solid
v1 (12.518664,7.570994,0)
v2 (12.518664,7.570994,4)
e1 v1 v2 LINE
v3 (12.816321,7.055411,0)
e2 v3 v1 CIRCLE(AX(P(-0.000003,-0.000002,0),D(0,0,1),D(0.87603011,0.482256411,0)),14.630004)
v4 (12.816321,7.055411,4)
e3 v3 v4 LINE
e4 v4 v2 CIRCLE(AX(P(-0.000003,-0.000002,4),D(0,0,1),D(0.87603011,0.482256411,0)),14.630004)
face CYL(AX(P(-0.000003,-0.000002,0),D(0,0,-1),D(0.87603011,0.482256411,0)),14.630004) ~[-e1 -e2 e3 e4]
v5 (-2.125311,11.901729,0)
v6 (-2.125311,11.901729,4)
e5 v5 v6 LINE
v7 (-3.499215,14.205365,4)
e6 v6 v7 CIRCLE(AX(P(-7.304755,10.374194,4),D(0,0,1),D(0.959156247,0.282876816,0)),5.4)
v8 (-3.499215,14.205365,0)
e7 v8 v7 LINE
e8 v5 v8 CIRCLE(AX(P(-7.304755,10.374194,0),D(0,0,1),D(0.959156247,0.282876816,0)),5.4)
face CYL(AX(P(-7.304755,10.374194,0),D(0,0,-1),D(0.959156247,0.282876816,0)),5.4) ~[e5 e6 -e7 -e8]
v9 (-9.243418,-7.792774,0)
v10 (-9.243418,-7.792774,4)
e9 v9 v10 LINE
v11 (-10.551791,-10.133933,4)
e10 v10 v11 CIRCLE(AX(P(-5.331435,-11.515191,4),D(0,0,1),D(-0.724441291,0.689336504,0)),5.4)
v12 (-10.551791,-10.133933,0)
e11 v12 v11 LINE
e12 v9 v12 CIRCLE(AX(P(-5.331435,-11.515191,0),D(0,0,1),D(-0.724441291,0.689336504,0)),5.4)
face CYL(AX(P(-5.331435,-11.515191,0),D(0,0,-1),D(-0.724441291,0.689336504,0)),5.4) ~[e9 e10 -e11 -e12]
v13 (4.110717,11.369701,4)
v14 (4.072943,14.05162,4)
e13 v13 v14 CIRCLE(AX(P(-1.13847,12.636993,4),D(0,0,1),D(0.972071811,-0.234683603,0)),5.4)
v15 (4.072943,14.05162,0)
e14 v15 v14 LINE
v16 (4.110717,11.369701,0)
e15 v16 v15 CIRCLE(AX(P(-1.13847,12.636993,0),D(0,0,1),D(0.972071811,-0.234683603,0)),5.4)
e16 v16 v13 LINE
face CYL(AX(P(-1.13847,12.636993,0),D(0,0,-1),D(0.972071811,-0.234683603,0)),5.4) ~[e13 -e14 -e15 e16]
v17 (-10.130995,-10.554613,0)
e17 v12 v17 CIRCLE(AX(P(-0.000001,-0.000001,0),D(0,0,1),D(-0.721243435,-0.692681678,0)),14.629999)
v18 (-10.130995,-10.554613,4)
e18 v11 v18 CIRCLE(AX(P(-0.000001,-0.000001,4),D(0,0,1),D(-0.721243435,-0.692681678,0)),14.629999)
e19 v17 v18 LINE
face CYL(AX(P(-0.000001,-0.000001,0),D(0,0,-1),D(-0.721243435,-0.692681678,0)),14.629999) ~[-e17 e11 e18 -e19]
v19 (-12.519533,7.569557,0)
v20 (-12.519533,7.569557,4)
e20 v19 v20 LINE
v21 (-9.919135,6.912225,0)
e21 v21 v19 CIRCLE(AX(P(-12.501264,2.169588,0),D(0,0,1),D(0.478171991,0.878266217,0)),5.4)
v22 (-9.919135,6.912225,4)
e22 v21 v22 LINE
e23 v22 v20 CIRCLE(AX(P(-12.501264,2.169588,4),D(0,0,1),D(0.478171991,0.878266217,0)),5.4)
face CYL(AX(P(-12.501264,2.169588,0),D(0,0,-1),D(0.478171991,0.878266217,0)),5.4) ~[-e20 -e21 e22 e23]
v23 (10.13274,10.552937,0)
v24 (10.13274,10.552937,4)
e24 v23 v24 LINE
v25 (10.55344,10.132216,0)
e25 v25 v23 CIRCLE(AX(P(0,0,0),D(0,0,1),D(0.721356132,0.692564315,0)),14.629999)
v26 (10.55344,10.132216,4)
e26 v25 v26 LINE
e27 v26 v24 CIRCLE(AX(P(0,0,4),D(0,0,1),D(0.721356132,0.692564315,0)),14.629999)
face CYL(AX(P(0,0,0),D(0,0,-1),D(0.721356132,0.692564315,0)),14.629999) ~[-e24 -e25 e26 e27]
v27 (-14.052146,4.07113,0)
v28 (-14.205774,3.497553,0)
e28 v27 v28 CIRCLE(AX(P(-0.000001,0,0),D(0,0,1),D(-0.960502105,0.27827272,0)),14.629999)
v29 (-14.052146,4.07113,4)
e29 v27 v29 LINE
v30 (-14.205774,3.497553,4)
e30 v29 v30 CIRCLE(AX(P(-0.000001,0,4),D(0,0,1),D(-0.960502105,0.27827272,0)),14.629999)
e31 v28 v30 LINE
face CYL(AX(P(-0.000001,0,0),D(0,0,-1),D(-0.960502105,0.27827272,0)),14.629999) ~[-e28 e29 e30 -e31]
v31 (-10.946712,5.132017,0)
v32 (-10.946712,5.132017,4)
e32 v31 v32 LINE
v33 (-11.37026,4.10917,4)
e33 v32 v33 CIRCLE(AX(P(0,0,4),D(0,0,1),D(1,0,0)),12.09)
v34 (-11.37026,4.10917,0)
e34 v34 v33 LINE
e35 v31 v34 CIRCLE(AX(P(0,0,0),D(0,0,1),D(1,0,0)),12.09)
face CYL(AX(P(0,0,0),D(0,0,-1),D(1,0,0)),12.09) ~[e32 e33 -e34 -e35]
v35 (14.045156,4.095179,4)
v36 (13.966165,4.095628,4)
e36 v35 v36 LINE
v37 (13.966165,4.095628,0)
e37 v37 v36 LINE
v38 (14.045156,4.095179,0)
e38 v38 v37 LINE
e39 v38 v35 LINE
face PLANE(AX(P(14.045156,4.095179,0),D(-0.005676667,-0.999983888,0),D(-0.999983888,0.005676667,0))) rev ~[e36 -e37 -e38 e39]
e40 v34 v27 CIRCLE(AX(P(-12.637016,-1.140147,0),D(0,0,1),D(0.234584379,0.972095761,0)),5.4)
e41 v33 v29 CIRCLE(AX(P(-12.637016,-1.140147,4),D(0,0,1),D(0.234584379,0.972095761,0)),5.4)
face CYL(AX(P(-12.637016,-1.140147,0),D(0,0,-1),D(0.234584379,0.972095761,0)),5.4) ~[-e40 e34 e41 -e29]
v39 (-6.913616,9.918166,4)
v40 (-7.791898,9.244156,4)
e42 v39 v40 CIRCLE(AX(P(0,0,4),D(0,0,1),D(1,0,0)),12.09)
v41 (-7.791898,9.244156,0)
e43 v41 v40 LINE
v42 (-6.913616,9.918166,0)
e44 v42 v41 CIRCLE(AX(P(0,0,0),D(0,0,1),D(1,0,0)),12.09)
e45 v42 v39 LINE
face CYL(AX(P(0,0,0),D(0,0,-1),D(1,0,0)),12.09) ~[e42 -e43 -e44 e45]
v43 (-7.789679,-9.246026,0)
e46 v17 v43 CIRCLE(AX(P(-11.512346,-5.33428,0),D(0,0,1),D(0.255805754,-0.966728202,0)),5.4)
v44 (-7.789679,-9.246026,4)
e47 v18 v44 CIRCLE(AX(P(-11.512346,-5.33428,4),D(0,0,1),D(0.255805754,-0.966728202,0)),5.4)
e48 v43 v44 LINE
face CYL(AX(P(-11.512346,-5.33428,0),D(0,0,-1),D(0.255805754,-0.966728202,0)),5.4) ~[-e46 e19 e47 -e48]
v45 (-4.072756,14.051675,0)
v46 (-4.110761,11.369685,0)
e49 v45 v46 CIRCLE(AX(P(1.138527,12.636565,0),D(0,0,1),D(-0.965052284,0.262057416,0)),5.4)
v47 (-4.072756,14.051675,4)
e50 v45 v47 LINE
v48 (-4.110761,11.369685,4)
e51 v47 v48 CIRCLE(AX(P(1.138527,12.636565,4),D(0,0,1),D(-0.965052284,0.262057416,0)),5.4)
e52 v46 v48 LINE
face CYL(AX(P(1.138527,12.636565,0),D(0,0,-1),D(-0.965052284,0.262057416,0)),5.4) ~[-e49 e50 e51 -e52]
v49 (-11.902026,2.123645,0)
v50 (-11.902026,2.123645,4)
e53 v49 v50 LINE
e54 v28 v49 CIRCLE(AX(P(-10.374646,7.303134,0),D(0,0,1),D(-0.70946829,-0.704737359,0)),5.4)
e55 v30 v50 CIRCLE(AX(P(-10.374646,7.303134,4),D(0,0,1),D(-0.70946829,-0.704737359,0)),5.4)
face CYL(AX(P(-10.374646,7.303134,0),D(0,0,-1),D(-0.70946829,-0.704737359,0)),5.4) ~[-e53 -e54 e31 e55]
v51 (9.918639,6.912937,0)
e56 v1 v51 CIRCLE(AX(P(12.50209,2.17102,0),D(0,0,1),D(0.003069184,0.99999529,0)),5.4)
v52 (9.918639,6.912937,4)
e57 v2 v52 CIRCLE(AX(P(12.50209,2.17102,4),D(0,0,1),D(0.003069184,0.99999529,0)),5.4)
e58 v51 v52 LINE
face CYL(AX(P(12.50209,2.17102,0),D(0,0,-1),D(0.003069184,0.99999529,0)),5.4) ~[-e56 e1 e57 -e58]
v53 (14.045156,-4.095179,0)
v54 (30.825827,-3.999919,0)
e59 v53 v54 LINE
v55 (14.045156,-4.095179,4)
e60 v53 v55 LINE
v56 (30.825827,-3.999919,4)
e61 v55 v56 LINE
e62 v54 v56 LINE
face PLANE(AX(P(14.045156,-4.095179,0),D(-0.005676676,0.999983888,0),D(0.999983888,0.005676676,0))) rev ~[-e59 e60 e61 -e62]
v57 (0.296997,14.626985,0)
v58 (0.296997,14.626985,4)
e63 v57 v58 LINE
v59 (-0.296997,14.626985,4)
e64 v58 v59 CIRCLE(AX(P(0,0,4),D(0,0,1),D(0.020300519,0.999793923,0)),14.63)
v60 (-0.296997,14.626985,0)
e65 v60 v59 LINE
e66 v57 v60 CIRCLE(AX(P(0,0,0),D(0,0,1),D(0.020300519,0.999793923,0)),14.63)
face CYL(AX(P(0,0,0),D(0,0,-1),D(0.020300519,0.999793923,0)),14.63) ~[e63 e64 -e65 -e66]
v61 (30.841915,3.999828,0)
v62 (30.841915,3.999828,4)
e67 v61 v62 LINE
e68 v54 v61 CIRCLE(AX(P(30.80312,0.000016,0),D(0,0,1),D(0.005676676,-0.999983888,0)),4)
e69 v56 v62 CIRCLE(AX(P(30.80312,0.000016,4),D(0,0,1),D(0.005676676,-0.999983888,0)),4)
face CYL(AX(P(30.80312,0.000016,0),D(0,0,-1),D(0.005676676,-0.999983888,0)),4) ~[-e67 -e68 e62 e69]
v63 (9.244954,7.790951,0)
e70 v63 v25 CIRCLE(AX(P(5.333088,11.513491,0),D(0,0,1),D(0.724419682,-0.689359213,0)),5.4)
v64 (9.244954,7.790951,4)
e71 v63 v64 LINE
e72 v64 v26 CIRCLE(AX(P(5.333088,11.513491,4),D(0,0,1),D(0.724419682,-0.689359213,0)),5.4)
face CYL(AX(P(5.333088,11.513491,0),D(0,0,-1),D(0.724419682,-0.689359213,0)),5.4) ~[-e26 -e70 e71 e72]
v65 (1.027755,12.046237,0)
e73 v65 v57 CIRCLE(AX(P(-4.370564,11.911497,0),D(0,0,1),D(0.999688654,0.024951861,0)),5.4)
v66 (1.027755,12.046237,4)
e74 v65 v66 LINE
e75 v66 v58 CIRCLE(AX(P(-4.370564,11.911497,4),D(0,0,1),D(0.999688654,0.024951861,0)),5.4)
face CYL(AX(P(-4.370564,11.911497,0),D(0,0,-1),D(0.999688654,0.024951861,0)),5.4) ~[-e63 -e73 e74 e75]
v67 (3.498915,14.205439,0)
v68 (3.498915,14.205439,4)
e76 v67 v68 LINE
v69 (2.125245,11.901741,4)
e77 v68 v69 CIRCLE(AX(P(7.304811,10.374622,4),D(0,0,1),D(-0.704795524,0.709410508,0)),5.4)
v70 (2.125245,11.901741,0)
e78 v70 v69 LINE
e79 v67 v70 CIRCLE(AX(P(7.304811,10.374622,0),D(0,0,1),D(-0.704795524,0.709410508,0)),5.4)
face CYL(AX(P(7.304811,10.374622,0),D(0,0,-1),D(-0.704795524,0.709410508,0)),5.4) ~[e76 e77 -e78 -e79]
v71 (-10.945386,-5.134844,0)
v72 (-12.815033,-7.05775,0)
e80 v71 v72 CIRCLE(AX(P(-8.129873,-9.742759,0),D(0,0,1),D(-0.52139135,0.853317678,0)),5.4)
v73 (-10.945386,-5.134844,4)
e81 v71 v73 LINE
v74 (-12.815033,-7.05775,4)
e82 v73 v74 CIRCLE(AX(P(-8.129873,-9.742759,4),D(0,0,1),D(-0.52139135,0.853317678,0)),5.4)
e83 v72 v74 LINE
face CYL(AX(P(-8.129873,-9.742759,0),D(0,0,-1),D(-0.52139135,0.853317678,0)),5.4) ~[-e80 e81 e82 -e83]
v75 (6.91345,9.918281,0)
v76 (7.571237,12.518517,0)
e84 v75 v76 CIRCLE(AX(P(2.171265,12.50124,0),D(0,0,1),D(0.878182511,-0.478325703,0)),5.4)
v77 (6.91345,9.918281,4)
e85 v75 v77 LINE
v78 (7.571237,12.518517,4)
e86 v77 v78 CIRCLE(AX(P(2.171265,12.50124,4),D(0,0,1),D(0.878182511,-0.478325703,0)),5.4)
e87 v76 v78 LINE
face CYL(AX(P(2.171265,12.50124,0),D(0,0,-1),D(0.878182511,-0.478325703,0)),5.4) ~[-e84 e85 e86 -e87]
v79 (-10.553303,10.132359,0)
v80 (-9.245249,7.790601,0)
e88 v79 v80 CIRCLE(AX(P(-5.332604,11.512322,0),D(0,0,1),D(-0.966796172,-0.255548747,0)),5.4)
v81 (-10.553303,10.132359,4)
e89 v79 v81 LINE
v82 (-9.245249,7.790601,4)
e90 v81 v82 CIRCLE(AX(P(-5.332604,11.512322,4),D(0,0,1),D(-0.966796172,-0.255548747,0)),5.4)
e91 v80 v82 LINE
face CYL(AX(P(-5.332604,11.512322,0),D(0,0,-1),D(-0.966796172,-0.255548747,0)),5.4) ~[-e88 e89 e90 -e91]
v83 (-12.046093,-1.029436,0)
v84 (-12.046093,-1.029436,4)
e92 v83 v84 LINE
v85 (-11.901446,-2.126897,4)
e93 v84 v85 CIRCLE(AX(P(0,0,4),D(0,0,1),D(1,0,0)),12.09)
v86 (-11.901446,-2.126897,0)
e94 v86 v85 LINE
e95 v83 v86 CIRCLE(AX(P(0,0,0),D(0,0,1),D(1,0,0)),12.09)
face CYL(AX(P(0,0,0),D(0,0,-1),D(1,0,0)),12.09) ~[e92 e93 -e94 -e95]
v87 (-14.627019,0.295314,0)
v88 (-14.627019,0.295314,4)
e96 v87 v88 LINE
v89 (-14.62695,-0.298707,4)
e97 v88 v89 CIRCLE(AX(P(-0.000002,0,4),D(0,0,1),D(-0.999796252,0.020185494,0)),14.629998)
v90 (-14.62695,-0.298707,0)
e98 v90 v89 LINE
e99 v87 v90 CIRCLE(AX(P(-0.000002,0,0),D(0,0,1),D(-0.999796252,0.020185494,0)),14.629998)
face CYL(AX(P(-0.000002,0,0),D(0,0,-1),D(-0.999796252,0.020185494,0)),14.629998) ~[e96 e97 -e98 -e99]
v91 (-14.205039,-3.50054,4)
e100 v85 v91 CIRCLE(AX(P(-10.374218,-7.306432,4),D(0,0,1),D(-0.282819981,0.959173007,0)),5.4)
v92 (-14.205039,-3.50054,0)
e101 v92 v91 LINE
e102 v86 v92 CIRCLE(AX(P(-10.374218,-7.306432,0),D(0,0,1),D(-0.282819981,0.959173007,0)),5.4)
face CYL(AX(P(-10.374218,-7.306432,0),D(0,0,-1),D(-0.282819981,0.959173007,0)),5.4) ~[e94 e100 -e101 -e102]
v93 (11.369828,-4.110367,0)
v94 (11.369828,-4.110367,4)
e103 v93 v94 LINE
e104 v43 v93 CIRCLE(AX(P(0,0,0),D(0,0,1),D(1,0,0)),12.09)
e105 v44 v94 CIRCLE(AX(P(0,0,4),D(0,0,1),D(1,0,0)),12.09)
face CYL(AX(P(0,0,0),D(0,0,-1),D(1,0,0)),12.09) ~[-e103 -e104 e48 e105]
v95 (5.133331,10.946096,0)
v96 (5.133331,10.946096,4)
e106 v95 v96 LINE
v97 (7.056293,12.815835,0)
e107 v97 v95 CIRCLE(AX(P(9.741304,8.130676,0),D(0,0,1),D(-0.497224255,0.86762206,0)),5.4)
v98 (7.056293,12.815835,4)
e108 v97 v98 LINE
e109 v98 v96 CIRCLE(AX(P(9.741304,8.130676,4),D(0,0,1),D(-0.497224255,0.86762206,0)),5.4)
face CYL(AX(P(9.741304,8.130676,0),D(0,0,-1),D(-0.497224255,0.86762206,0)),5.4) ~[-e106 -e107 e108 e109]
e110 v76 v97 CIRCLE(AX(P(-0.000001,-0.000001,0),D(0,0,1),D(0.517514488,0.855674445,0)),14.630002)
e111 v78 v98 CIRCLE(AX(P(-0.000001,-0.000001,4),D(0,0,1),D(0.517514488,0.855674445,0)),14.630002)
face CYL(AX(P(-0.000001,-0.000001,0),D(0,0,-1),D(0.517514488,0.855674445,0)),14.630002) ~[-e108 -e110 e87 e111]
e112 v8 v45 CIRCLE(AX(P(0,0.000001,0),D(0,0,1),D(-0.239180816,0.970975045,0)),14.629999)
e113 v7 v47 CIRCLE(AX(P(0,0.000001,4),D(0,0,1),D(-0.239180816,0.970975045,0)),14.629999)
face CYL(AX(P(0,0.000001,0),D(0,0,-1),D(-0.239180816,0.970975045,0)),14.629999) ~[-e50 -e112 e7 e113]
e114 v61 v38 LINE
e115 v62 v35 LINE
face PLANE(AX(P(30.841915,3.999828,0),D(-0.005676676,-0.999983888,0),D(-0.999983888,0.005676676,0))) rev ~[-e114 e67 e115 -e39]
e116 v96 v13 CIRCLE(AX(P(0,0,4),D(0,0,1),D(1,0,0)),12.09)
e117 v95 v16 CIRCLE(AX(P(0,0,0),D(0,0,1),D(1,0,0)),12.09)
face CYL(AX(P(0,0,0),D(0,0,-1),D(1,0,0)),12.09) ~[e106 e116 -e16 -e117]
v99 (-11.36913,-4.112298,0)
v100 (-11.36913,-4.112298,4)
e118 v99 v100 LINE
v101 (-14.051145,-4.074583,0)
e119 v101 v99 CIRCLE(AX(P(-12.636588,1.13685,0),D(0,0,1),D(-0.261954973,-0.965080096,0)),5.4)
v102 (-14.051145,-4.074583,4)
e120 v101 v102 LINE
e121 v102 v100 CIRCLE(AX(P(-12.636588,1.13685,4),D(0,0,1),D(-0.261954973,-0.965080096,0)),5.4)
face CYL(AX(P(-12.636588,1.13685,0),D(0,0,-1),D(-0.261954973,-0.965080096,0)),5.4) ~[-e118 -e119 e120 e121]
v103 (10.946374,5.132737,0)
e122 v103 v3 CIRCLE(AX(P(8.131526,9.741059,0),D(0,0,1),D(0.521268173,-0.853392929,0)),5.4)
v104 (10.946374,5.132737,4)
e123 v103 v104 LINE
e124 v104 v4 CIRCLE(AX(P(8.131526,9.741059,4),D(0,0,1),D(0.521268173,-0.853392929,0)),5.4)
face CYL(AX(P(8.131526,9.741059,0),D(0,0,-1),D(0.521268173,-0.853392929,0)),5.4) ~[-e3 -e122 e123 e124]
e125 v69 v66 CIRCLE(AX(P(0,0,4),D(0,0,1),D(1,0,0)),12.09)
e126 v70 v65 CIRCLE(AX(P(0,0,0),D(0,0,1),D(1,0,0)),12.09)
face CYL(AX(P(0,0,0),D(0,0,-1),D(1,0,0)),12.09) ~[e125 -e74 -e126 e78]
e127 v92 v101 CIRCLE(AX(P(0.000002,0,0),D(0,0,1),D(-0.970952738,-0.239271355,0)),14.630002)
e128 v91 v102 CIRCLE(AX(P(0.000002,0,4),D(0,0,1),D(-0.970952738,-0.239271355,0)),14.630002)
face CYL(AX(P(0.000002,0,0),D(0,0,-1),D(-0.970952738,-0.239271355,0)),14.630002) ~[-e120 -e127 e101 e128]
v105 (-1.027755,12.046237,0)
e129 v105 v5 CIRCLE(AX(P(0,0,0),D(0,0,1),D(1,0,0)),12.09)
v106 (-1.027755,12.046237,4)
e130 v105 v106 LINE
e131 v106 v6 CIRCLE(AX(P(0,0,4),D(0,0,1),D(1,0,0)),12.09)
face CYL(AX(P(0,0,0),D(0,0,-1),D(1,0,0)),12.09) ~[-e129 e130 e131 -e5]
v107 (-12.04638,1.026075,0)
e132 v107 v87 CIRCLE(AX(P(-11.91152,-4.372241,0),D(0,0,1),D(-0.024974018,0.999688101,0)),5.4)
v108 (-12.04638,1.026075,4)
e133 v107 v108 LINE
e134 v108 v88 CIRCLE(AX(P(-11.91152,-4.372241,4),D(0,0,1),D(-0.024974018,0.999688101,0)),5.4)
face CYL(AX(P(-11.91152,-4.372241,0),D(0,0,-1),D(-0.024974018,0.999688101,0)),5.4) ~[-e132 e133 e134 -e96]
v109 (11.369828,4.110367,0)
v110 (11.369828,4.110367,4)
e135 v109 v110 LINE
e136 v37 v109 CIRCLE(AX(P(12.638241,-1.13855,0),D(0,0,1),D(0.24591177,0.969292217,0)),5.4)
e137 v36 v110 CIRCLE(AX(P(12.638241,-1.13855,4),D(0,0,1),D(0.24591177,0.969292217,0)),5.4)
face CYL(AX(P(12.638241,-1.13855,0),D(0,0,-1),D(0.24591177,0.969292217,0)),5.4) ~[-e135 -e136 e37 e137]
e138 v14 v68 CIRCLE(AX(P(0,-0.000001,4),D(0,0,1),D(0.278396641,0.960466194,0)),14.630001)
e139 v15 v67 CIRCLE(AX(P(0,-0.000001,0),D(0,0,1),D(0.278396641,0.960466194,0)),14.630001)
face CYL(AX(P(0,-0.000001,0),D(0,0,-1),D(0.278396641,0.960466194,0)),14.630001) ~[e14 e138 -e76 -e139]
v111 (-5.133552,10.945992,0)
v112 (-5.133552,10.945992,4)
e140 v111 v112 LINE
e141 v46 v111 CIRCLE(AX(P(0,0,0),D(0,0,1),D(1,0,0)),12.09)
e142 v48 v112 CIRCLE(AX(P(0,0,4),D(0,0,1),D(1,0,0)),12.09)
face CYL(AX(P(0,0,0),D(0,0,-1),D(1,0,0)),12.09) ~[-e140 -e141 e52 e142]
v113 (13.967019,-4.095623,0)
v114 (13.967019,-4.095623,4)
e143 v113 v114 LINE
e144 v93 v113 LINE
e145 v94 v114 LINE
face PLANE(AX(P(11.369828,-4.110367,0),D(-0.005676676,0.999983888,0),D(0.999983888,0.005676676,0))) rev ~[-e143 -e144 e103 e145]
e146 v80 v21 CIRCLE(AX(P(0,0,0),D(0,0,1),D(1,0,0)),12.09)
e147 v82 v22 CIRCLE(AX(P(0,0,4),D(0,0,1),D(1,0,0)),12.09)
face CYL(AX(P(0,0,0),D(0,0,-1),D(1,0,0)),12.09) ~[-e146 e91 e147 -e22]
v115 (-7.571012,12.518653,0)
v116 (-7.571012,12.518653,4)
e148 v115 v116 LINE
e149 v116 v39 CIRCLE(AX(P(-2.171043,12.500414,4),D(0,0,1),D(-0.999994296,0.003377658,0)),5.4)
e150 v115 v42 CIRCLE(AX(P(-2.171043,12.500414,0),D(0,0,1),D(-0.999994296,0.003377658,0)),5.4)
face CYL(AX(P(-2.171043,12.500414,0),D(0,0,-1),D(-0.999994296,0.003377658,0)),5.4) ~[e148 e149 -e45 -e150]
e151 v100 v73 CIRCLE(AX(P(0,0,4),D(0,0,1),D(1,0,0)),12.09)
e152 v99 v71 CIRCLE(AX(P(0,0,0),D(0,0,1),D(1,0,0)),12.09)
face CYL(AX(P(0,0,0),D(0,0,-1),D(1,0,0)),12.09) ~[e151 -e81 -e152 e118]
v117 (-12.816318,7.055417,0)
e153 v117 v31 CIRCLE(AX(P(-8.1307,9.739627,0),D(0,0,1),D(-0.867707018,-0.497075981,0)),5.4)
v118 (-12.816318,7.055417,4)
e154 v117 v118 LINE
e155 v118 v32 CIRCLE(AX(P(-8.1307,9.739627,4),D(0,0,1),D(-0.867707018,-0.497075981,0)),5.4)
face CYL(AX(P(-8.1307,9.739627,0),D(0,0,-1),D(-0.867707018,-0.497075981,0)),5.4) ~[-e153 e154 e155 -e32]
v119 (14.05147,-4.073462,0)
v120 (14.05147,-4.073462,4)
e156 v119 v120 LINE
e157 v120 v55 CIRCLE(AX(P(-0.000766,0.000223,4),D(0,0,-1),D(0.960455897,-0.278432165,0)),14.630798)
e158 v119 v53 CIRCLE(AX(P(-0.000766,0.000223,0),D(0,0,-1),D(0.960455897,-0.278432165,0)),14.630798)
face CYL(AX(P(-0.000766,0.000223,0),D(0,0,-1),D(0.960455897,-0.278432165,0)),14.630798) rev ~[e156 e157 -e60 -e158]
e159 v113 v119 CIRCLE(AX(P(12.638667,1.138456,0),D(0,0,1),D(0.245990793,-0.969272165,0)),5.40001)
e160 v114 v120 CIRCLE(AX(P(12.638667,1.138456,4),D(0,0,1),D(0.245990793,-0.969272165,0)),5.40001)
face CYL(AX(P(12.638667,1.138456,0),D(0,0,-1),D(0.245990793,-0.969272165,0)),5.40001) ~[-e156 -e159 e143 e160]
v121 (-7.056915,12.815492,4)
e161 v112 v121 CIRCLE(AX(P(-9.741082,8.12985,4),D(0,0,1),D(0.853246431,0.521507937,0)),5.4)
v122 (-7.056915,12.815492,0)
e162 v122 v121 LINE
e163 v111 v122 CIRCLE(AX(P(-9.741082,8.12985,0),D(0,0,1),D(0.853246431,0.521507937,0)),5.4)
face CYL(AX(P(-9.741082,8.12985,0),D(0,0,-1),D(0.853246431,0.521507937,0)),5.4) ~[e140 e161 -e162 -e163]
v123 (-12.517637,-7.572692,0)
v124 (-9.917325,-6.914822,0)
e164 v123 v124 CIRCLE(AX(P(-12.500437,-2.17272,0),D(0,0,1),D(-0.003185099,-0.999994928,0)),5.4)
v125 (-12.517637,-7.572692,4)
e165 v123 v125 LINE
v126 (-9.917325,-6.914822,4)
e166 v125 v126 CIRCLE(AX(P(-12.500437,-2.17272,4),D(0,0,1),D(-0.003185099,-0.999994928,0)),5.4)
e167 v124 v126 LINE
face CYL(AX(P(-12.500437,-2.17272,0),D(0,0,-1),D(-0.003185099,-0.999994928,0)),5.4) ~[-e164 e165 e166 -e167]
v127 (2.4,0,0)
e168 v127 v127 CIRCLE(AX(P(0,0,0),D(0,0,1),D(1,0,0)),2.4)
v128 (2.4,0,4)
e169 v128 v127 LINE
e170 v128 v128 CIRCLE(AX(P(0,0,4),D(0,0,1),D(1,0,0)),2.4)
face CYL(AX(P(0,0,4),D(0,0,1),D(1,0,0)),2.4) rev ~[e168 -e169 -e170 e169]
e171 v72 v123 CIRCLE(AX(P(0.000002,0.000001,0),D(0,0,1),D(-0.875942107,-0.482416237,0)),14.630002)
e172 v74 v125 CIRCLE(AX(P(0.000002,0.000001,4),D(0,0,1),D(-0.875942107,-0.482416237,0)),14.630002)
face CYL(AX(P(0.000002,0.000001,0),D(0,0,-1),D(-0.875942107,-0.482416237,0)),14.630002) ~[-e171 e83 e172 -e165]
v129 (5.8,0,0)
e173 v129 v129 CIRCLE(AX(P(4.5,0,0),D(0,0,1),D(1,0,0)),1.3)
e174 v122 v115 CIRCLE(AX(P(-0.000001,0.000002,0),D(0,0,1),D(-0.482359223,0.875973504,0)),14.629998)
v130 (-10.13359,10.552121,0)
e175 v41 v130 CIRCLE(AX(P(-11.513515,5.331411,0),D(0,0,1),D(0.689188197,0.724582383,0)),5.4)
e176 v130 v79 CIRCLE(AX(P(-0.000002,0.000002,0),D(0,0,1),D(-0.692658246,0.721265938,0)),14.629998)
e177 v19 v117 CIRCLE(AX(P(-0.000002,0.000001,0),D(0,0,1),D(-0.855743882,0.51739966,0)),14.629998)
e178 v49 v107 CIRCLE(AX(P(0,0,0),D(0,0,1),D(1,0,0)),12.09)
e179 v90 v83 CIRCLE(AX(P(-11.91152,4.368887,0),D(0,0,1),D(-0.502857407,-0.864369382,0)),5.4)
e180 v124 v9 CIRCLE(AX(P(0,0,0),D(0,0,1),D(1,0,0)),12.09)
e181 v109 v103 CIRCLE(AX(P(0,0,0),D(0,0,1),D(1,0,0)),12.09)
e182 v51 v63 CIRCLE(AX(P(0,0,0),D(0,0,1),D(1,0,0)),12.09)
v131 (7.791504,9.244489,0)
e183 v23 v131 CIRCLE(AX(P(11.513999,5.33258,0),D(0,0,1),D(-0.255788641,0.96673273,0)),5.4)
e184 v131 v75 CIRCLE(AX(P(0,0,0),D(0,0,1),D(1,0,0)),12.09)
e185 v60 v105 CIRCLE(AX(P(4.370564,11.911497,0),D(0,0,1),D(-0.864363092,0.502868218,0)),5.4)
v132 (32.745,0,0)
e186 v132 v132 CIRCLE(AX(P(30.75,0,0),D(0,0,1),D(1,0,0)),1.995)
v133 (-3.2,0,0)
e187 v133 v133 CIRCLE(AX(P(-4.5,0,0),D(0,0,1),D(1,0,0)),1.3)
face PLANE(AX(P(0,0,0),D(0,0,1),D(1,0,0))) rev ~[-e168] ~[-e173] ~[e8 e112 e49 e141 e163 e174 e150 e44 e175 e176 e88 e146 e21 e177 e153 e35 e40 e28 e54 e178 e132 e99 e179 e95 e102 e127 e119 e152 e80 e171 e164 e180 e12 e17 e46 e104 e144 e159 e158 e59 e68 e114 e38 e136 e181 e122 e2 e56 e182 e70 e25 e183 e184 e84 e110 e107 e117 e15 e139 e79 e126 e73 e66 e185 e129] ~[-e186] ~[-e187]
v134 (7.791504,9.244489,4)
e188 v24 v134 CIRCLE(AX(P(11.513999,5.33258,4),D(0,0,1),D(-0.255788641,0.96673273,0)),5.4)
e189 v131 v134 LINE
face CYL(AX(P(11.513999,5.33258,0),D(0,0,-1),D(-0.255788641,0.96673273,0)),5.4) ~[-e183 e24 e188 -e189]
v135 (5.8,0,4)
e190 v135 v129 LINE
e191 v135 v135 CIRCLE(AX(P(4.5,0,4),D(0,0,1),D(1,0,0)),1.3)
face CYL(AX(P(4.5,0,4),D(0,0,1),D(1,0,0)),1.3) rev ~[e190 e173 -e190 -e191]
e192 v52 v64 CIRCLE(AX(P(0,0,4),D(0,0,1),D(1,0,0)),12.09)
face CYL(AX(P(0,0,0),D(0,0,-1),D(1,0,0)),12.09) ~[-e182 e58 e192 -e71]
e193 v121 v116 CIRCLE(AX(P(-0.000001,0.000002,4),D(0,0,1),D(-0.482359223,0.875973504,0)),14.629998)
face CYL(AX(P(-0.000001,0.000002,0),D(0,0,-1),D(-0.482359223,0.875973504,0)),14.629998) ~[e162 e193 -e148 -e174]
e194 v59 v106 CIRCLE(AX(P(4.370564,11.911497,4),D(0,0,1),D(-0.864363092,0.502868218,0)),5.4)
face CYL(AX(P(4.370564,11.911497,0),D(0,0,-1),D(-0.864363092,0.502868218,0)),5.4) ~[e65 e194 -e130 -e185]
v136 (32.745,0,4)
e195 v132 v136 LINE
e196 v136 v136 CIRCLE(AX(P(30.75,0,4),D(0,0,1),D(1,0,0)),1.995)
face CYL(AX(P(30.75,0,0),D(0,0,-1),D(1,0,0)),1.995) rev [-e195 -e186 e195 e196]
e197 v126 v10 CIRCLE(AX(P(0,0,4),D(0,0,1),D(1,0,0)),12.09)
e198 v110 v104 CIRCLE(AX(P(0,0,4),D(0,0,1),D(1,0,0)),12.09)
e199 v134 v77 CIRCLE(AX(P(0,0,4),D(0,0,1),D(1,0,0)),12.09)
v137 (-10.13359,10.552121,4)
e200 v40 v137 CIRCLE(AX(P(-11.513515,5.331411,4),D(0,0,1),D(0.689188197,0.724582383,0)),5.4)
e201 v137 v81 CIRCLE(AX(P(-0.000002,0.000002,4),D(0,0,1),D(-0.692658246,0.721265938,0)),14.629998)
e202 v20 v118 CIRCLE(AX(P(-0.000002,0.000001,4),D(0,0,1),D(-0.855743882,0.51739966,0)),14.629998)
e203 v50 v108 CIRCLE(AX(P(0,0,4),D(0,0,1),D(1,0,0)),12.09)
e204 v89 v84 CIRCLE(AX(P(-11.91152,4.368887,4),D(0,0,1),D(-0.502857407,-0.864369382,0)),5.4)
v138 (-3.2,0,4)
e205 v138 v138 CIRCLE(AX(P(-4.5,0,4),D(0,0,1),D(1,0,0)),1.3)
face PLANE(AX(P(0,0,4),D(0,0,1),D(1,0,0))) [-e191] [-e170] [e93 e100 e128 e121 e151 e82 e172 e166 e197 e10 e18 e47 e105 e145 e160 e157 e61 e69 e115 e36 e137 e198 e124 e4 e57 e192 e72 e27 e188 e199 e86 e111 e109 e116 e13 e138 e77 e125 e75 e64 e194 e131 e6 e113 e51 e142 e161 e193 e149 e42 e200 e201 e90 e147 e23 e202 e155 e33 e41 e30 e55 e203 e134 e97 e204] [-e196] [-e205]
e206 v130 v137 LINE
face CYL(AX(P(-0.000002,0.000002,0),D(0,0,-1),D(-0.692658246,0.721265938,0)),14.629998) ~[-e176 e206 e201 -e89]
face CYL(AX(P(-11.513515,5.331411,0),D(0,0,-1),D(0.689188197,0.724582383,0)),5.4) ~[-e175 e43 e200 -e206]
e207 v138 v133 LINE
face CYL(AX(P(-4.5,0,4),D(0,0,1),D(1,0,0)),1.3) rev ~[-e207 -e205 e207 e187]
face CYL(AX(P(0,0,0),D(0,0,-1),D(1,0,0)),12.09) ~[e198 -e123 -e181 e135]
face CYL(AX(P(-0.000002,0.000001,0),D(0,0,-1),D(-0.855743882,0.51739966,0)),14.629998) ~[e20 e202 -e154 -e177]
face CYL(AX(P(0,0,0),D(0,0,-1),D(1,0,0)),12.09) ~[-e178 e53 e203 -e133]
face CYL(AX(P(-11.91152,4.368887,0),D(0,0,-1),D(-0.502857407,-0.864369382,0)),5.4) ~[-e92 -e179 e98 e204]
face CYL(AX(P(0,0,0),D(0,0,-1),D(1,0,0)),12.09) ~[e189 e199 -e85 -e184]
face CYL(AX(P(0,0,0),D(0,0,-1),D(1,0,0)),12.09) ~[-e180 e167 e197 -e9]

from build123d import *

# Parameters (mm, degrees)
SKETCH1_R           = 12.09
SKETCH1_R_2         = 1.75
SKETCH1_R_3         = 1.995
BOSS_EXTRUDE1_DEPTH = 4
SKETCH2_R           = 1.3
SKETCH2_R_2         = 2.4
CUT_EXTRUDE1_DEPTH  = 38.96437919


with BuildPart() as part:
    # Sketch1 → Boss-Extrude1 (new body)
    # profile 1 of 22: a face of its own
    with BuildSketch(Plane.XY):
        Circle(SKETCH1_R)
        Circle(SKETCH1_R_2, mode=Mode.SUBTRACT)
    # profile 2 of 22: a face of its own
    with BuildSketch(Plane.XY):
        with BuildLine():
            ThreePointArc((14.051469909, -4.073462091), (14.048317136, -4.084321933), (14.04515597, -4.095179336))
            Line((14.04515597, -4.095179336), (30.82582707, -3.999919373))
            ThreePointArc((30.82582707, -3.999919373), (34.803112279, -0.008027822), (30.841914591, 3.999828048))
            Line((30.841914591, 3.999828048), (14.04515597, 4.095179336))
            ThreePointArc((14.04515597, 4.095179336), (14.128586435, 3.797360314), (14.205702589, 3.497844187))
            ThreePointArc((14.205702589, 3.497844187), (14.50484412, 1.909554151), (14.626965513, 0.297959519))
            ThreePointArc((14.626965513, 0.297959519), (14.629241359, 0.148987485), (14.63, 0))
            ThreePointArc((14.63, 0), (14.629241116, -0.149011314), (14.626964543, -0.298007168))
            ThreePointArc((14.626964543, -0.298007168), (14.504858624, -1.909443973), (14.20576712, -3.497582099))
            ThreePointArc((14.20576712, -3.497582099), (14.131552306, -3.786308154), (14.051469909, -4.073462091))
        make_face()
        with Locations((30.75, 0)):
            Circle(SKETCH1_R_3, mode=Mode.SUBTRACT)
    # profile 3 of 22: a face of its own
    with BuildSketch(Plane.XY):
        with BuildLine():
            ThreePointArc((14.205702589, 3.497844187), (14.128586435, 3.797360314), (14.04515597, 4.095179336))
            Line((14.04515597, 4.095179336), (13.966164937, 4.095627749))
            Line((13.966164937, 4.095627749), (11.369827915, 4.11036655))
            ThreePointArc((11.369827915, 4.11036655), (11.678097516, 3.128919686), (11.901816808, 2.124819208))
            ThreePointArc((11.901816808, 2.124819208), (13.1403578, 2.666023245), (14.205702589, 3.497844187))
        make_face()
    # profile 4 of 22: a face of its own
    with BuildSketch(Plane.XY):
        with BuildLine():
            ThreePointArc((-12.517636695, -7.572692492), (-11.175984377, -7.407777173), (-9.917325106, -6.914821961))
            ThreePointArc((-9.917325106, -6.914821961), (-10.469253219, -6.046721181), (-10.945386333, -5.134843524))
            ThreePointArc((-10.945386333, -5.134843524), (-12.001489862, -5.978375477), (-12.815033037, -7.057749518))
            ThreePointArc((-12.815033037, -7.057749518), (-12.668951436, -7.31673216), (-12.517636695, -7.572692492))
        make_face()
    # profile 5 of 22: a face of its own
    with BuildSketch(Plane.XY):
        with BuildLine():
            ThreePointArc((-14.051145033, -4.074582586), (-12.712516328, -4.262616236), (-11.369129658, -4.112297512))
            ThreePointArc((-11.369129658, -4.112297512), (-11.677558471, -3.130930876), (-11.901445615, -2.126897335))
            ThreePointArc((-11.901445615, -2.126897335), (-13.139881298, -2.668425004), (-14.205038564, -3.500539874))
            ThreePointArc((-14.205038564, -3.500539874), (-14.13100701, -3.788342761), (-14.051145033, -4.074582586))
        make_face()
    # profile 6 of 22: a face of its own
    with BuildSketch(Plane.XY):
        with BuildLine():
            ThreePointArc((-14.626950262, -0.298707293), (-13.382615157, -0.826868574), (-12.046093246, -1.029435529))
            ThreePointArc((-12.046093246, -1.029435529), (-12.089999882, -0.001686428), (-12.046379968, 1.026074882))
            ThreePointArc((-12.046379968, 1.026074882), (-13.382791491, 0.823465153), (-14.62701917, 0.295313712))
            ThreePointArc((-14.62701917, 0.295313712), (-14.629999902, -0.00169714), (-14.626950262, -0.298707293))
        make_face()
    # profile 7 of 22: a face of its own
    with BuildSketch(Plane.XY):
        with BuildLine():
            ThreePointArc((-14.205774364, 3.497552675), (-13.140565234, 2.66528054), (-11.902026335, 2.123645243))
            ThreePointArc((-11.902026335, 2.123645243), (-11.678416405, 3.127729251), (-11.370260409, 4.109170017))
            ThreePointArc((-11.370260409, 4.109170017), (-12.71360248, 4.259309779), (-14.052145793, 4.071129894))
            ThreePointArc((-14.052145793, 4.071129894), (-14.131870386, 3.78512079), (-14.205774364, 3.497552675))
        make_face()
    # profile 8 of 22: a face of its own
    with BuildSketch(Plane.XY):
        with BuildLine():
            ThreePointArc((-9.919135011, 6.912225448), (-11.177872267, 7.404913556), (-12.519533027, 7.569556974))
            ThreePointArc((-12.519533027, 7.569556974), (-12.670533379, 7.313992337), (-12.816317544, 7.055416686))
            ThreePointArc((-12.816317544, 7.055416686), (-12.00284137, 5.975783406), (-10.94671211, 5.132016561))
            ThreePointArc((-10.94671211, 5.132016561), (-10.470825179, 6.043998682), (-9.919135011, 6.912225448))
        make_face()
    # profile 9 of 22: a face of its own
    with BuildSketch(Plane.XY):
        with BuildLine():
            ThreePointArc((-7.791898403, 9.244155952), (-8.880242473, 10.045843984), (-10.13359017, 10.552120653))
            ThreePointArc((-10.13359017, 10.552120653), (-10.345575707, 10.344368676), (-10.553302948, 10.1323589))
            ThreePointArc((-10.553302948, 10.1323589), (-10.04699158, 8.878969486), (-9.245249077, 7.790601357))
            ThreePointArc((-9.245249077, 7.790601357), (-8.549520677, 8.54832125), (-7.791898403, 9.244155952))
        make_face()
    # profile 10 of 22: a face of its own
    with BuildSketch(Plane.XY):
        with BuildLine():
            ThreePointArc((-5.133551517, 10.945992364), (-5.977311447, 12.002061971), (-7.05691548, 12.815492339))
            ThreePointArc((-7.05691548, 12.815492339), (-7.315469666, 12.669680484), (-7.571012334, 12.518652972))
            ThreePointArc((-7.571012334, 12.518652972), (-7.40634855, 11.176941958), (-6.913615931, 9.918165897))
            ThreePointArc((-6.913615931, 9.918165897), (-6.045466706, 10.469977665), (-5.133551517, 10.945992364))
        make_face()
    # profile 11 of 22: a face of its own
    with BuildSketch(Plane.XY):
        with BuildLine():
            ThreePointArc((-2.125311093, 11.901728982), (-2.666957342, 13.14020836), (-3.499215334, 14.205364904))
            ThreePointArc((-3.499215334, 14.205364904), (-3.786765286, 14.131429817), (-4.072755654, 14.051674682))
            ThreePointArc((-4.072755654, 14.051674682), (-4.260931239, 12.713077321), (-4.110760617, 11.369685446))
            ThreePointArc((-4.110760617, 11.369685446), (-3.129363382, 11.677978627), (-2.125311093, 11.901728982))
        make_face()
    # profile 12 of 22: a face of its own
    with BuildSketch(Plane.XY):
        with BuildLine():
            ThreePointArc((1.027754616, 12.046236775), (0.825159863, 13.382704508), (0.296996585, 14.626985097))
            ThreePointArc((0.296996585, 14.626985097), (0, 14.63), (-0.296996585, 14.626985097))
            ThreePointArc((-0.296996585, 14.626985097), (-0.825159863, 13.382704508), (-1.027754616, 12.046236775))
            ThreePointArc((-1.027754616, 12.046236775), (0, 12.09), (1.027754616, 12.046236775))
        make_face()
    # profile 13 of 22: a face of its own
    with BuildSketch(Plane.XY):
        with BuildLine():
            ThreePointArc((4.110717434, 11.369701059), (4.260994095, 12.713043392), (4.072942889, 14.051620413))
            ThreePointArc((4.072942889, 14.051620413), (3.786710214, 14.131444574), (3.498915331, 14.2054388))
            ThreePointArc((3.498915331, 14.2054388), (2.666773966, 13.14023428), (2.125244746, 11.901740829))
            ThreePointArc((2.125244746, 11.901740829), (3.129308654, 11.677993293), (4.110717434, 11.369701059))
        make_face()
    # profile 14 of 22: a face of its own
    with BuildSketch(Plane.XY):
        with BuildLine():
            ThreePointArc((6.913450185, 9.91828143), (7.406352802, 11.176909529), (7.571236986, 12.518517105))
            ThreePointArc((7.571236986, 12.518517105), (7.315275528, 12.669792577), (7.056292749, 12.81583523))
            ThreePointArc((7.056292749, 12.81583523), (5.976880257, 12.002254067), (5.133331053, 10.946095756))
            ThreePointArc((5.133331053, 10.946095756), (6.045273784, 10.470089058), (6.913450185, 9.91828143))
        make_face()
    # profile 15 of 22: a face of its own
    with BuildSketch(Plane.XY):
        with BuildLine():
            ThreePointArc((9.244954117, 7.790951378), (10.046869152, 8.879052728), (10.553440202, 10.132215942))
            ThreePointArc((10.553440202, 10.132215942), (10.345229175, 10.344715236), (10.132740224, 10.552936821))
            ThreePointArc((10.132740224, 10.552936821), (8.879594749, 10.046380548), (7.791503622, 9.244488699))
            ThreePointArc((7.791503622, 9.244488699), (8.549176321, 8.548665641), (9.244954117, 7.790951378))
        make_face()
    # profile 16 of 22: a face of its own
    with BuildSketch(Plane.XY):
        with BuildLine():
            ThreePointArc((10.946374382, 5.132736881), (12.002615026, 5.976132183), (12.81632055, 7.055411226))
            ThreePointArc((12.81632055, 7.055411226), (12.670115094, 7.314716911), (12.518663963, 7.570994161))
            ThreePointArc((12.518663963, 7.570994161), (11.17714698, 7.405952739), (9.918639175, 6.912936924))
            ThreePointArc((9.918639175, 6.912936924), (10.47040953, 6.044718709), (10.946374382, 5.132736881))
        make_face()
    # profile 17 of 22: a face of its own
    with BuildSketch(Plane.XY):
        with BuildLine():
            ThreePointArc((12.046231207, -1.027819886), (11.986581537, -1.577961676), (11.901820644, -2.124797724))
            ThreePointArc((11.901820644, -2.124797724), (13.140374441, -2.665881604), (14.20576712, -3.497582099))
            ThreePointArc((14.20576712, -3.497582099), (14.504858624, -1.909443973), (14.626964543, -0.298007168))
            ThreePointArc((14.626964543, -0.298007168), (13.382627003, -0.825679814), (12.046231207, -1.027819886))
        make_face()
    # profile 18 of 22: a face of its own
    with BuildSketch(Plane.XY):
        with BuildLine():
            ThreePointArc((11.901820644, -2.124797724), (11.67810034, -3.128909147), (11.369827915, -4.11036655))
            Line((11.369827915, -4.11036655), (13.967019497, -4.095622898))
            ThreePointArc((13.967019497, -4.095622898), (14.009289492, -4.084713176), (14.051469909, -4.073462091))
            ThreePointArc((14.051469909, -4.073462091), (14.131552306, -3.786308154), (14.20576712, -3.497582099))
            ThreePointArc((14.20576712, -3.497582099), (13.140374441, -2.665881604), (11.901820644, -2.124797724))
        make_face()
    # profile 19 of 22: a face of its own
    with BuildSketch(Plane.XY):
        with BuildLine():
            ThreePointArc((12.09, 0), (12.079052845, -0.514375696), (12.046231207, -1.027819886))
            ThreePointArc((12.046231207, -1.027819886), (13.382627003, -0.825679814), (14.626964543, -0.298007168))
            ThreePointArc((14.626964543, -0.298007168), (14.629241116, -0.149011314), (14.63, 0))
            ThreePointArc((14.63, 0), (14.629241359, 0.148987485), (14.626965513, 0.297959519))
            ThreePointArc((14.626965513, 0.297959519), (13.382629481, 0.825632028), (12.046235232, 1.027772701))
            ThreePointArc((12.046235232, 1.027772701), (12.079053853, 0.514352039), (12.09, 0))
        make_face()
    # profile 20 of 22: a face of its own
    with BuildSketch(Plane.XY):
        with BuildLine():
            ThreePointArc((11.901816808, 2.124819208), (11.986583203, 1.577949019), (12.046235232, 1.027772701))
            ThreePointArc((12.046235232, 1.027772701), (13.382629481, 0.825632028), (14.626965513, 0.297959519))
            ThreePointArc((14.626965513, 0.297959519), (14.50484412, 1.909554151), (14.205702589, 3.497844187))
            ThreePointArc((14.205702589, 3.497844187), (13.1403578, 2.666023245), (11.901816808, 2.124819208))
        make_face()
    # profile 21 of 22: a face of its own
    with BuildSketch(Plane.XY):
        with BuildLine():
            Line((11.369827915, 4.11036655), (13.966164937, 4.095627749))
            ThreePointArc((13.966164937, 4.095627749), (12.668895431, 4.261362771), (11.369827915, 4.11036655))
        make_face()
    # profile 22 of 22: a face of its own
    with BuildSketch(Plane.XY):
        with BuildLine():
            ThreePointArc((-10.130994605, -10.554612656), (-8.877796666, -10.047999865), (-7.789679206, -9.246026058))
            ThreePointArc((-7.789679206, -9.246026058), (-8.547489799, -8.550351931), (-9.243417598, -7.792774288))
            ThreePointArc((-9.243417598, -7.792774288), (-10.045261463, -8.880834456), (-10.55179143, -10.133932978))
            ThreePointArc((-10.55179143, -10.133932978), (-10.343531911, -10.346412306), (-10.130994605, -10.554612656))
        make_face()
    extrude(amount=BOSS_EXTRUDE1_DEPTH)

    # Sketch2 → Cut-Extrude1 (cut, through all)
    with BuildSketch(Plane.XY.offset(4)):
        with Locations((4.5, 0)):
            Circle(SKETCH2_R)
        with Locations((-4.5, 0)):
            Circle(SKETCH2_R)
        Circle(SKETCH2_R_2)
    extrude(amount=-CUT_EXTRUDE1_DEPTH, mode=Mode.SUBTRACT)


solid = part.part
